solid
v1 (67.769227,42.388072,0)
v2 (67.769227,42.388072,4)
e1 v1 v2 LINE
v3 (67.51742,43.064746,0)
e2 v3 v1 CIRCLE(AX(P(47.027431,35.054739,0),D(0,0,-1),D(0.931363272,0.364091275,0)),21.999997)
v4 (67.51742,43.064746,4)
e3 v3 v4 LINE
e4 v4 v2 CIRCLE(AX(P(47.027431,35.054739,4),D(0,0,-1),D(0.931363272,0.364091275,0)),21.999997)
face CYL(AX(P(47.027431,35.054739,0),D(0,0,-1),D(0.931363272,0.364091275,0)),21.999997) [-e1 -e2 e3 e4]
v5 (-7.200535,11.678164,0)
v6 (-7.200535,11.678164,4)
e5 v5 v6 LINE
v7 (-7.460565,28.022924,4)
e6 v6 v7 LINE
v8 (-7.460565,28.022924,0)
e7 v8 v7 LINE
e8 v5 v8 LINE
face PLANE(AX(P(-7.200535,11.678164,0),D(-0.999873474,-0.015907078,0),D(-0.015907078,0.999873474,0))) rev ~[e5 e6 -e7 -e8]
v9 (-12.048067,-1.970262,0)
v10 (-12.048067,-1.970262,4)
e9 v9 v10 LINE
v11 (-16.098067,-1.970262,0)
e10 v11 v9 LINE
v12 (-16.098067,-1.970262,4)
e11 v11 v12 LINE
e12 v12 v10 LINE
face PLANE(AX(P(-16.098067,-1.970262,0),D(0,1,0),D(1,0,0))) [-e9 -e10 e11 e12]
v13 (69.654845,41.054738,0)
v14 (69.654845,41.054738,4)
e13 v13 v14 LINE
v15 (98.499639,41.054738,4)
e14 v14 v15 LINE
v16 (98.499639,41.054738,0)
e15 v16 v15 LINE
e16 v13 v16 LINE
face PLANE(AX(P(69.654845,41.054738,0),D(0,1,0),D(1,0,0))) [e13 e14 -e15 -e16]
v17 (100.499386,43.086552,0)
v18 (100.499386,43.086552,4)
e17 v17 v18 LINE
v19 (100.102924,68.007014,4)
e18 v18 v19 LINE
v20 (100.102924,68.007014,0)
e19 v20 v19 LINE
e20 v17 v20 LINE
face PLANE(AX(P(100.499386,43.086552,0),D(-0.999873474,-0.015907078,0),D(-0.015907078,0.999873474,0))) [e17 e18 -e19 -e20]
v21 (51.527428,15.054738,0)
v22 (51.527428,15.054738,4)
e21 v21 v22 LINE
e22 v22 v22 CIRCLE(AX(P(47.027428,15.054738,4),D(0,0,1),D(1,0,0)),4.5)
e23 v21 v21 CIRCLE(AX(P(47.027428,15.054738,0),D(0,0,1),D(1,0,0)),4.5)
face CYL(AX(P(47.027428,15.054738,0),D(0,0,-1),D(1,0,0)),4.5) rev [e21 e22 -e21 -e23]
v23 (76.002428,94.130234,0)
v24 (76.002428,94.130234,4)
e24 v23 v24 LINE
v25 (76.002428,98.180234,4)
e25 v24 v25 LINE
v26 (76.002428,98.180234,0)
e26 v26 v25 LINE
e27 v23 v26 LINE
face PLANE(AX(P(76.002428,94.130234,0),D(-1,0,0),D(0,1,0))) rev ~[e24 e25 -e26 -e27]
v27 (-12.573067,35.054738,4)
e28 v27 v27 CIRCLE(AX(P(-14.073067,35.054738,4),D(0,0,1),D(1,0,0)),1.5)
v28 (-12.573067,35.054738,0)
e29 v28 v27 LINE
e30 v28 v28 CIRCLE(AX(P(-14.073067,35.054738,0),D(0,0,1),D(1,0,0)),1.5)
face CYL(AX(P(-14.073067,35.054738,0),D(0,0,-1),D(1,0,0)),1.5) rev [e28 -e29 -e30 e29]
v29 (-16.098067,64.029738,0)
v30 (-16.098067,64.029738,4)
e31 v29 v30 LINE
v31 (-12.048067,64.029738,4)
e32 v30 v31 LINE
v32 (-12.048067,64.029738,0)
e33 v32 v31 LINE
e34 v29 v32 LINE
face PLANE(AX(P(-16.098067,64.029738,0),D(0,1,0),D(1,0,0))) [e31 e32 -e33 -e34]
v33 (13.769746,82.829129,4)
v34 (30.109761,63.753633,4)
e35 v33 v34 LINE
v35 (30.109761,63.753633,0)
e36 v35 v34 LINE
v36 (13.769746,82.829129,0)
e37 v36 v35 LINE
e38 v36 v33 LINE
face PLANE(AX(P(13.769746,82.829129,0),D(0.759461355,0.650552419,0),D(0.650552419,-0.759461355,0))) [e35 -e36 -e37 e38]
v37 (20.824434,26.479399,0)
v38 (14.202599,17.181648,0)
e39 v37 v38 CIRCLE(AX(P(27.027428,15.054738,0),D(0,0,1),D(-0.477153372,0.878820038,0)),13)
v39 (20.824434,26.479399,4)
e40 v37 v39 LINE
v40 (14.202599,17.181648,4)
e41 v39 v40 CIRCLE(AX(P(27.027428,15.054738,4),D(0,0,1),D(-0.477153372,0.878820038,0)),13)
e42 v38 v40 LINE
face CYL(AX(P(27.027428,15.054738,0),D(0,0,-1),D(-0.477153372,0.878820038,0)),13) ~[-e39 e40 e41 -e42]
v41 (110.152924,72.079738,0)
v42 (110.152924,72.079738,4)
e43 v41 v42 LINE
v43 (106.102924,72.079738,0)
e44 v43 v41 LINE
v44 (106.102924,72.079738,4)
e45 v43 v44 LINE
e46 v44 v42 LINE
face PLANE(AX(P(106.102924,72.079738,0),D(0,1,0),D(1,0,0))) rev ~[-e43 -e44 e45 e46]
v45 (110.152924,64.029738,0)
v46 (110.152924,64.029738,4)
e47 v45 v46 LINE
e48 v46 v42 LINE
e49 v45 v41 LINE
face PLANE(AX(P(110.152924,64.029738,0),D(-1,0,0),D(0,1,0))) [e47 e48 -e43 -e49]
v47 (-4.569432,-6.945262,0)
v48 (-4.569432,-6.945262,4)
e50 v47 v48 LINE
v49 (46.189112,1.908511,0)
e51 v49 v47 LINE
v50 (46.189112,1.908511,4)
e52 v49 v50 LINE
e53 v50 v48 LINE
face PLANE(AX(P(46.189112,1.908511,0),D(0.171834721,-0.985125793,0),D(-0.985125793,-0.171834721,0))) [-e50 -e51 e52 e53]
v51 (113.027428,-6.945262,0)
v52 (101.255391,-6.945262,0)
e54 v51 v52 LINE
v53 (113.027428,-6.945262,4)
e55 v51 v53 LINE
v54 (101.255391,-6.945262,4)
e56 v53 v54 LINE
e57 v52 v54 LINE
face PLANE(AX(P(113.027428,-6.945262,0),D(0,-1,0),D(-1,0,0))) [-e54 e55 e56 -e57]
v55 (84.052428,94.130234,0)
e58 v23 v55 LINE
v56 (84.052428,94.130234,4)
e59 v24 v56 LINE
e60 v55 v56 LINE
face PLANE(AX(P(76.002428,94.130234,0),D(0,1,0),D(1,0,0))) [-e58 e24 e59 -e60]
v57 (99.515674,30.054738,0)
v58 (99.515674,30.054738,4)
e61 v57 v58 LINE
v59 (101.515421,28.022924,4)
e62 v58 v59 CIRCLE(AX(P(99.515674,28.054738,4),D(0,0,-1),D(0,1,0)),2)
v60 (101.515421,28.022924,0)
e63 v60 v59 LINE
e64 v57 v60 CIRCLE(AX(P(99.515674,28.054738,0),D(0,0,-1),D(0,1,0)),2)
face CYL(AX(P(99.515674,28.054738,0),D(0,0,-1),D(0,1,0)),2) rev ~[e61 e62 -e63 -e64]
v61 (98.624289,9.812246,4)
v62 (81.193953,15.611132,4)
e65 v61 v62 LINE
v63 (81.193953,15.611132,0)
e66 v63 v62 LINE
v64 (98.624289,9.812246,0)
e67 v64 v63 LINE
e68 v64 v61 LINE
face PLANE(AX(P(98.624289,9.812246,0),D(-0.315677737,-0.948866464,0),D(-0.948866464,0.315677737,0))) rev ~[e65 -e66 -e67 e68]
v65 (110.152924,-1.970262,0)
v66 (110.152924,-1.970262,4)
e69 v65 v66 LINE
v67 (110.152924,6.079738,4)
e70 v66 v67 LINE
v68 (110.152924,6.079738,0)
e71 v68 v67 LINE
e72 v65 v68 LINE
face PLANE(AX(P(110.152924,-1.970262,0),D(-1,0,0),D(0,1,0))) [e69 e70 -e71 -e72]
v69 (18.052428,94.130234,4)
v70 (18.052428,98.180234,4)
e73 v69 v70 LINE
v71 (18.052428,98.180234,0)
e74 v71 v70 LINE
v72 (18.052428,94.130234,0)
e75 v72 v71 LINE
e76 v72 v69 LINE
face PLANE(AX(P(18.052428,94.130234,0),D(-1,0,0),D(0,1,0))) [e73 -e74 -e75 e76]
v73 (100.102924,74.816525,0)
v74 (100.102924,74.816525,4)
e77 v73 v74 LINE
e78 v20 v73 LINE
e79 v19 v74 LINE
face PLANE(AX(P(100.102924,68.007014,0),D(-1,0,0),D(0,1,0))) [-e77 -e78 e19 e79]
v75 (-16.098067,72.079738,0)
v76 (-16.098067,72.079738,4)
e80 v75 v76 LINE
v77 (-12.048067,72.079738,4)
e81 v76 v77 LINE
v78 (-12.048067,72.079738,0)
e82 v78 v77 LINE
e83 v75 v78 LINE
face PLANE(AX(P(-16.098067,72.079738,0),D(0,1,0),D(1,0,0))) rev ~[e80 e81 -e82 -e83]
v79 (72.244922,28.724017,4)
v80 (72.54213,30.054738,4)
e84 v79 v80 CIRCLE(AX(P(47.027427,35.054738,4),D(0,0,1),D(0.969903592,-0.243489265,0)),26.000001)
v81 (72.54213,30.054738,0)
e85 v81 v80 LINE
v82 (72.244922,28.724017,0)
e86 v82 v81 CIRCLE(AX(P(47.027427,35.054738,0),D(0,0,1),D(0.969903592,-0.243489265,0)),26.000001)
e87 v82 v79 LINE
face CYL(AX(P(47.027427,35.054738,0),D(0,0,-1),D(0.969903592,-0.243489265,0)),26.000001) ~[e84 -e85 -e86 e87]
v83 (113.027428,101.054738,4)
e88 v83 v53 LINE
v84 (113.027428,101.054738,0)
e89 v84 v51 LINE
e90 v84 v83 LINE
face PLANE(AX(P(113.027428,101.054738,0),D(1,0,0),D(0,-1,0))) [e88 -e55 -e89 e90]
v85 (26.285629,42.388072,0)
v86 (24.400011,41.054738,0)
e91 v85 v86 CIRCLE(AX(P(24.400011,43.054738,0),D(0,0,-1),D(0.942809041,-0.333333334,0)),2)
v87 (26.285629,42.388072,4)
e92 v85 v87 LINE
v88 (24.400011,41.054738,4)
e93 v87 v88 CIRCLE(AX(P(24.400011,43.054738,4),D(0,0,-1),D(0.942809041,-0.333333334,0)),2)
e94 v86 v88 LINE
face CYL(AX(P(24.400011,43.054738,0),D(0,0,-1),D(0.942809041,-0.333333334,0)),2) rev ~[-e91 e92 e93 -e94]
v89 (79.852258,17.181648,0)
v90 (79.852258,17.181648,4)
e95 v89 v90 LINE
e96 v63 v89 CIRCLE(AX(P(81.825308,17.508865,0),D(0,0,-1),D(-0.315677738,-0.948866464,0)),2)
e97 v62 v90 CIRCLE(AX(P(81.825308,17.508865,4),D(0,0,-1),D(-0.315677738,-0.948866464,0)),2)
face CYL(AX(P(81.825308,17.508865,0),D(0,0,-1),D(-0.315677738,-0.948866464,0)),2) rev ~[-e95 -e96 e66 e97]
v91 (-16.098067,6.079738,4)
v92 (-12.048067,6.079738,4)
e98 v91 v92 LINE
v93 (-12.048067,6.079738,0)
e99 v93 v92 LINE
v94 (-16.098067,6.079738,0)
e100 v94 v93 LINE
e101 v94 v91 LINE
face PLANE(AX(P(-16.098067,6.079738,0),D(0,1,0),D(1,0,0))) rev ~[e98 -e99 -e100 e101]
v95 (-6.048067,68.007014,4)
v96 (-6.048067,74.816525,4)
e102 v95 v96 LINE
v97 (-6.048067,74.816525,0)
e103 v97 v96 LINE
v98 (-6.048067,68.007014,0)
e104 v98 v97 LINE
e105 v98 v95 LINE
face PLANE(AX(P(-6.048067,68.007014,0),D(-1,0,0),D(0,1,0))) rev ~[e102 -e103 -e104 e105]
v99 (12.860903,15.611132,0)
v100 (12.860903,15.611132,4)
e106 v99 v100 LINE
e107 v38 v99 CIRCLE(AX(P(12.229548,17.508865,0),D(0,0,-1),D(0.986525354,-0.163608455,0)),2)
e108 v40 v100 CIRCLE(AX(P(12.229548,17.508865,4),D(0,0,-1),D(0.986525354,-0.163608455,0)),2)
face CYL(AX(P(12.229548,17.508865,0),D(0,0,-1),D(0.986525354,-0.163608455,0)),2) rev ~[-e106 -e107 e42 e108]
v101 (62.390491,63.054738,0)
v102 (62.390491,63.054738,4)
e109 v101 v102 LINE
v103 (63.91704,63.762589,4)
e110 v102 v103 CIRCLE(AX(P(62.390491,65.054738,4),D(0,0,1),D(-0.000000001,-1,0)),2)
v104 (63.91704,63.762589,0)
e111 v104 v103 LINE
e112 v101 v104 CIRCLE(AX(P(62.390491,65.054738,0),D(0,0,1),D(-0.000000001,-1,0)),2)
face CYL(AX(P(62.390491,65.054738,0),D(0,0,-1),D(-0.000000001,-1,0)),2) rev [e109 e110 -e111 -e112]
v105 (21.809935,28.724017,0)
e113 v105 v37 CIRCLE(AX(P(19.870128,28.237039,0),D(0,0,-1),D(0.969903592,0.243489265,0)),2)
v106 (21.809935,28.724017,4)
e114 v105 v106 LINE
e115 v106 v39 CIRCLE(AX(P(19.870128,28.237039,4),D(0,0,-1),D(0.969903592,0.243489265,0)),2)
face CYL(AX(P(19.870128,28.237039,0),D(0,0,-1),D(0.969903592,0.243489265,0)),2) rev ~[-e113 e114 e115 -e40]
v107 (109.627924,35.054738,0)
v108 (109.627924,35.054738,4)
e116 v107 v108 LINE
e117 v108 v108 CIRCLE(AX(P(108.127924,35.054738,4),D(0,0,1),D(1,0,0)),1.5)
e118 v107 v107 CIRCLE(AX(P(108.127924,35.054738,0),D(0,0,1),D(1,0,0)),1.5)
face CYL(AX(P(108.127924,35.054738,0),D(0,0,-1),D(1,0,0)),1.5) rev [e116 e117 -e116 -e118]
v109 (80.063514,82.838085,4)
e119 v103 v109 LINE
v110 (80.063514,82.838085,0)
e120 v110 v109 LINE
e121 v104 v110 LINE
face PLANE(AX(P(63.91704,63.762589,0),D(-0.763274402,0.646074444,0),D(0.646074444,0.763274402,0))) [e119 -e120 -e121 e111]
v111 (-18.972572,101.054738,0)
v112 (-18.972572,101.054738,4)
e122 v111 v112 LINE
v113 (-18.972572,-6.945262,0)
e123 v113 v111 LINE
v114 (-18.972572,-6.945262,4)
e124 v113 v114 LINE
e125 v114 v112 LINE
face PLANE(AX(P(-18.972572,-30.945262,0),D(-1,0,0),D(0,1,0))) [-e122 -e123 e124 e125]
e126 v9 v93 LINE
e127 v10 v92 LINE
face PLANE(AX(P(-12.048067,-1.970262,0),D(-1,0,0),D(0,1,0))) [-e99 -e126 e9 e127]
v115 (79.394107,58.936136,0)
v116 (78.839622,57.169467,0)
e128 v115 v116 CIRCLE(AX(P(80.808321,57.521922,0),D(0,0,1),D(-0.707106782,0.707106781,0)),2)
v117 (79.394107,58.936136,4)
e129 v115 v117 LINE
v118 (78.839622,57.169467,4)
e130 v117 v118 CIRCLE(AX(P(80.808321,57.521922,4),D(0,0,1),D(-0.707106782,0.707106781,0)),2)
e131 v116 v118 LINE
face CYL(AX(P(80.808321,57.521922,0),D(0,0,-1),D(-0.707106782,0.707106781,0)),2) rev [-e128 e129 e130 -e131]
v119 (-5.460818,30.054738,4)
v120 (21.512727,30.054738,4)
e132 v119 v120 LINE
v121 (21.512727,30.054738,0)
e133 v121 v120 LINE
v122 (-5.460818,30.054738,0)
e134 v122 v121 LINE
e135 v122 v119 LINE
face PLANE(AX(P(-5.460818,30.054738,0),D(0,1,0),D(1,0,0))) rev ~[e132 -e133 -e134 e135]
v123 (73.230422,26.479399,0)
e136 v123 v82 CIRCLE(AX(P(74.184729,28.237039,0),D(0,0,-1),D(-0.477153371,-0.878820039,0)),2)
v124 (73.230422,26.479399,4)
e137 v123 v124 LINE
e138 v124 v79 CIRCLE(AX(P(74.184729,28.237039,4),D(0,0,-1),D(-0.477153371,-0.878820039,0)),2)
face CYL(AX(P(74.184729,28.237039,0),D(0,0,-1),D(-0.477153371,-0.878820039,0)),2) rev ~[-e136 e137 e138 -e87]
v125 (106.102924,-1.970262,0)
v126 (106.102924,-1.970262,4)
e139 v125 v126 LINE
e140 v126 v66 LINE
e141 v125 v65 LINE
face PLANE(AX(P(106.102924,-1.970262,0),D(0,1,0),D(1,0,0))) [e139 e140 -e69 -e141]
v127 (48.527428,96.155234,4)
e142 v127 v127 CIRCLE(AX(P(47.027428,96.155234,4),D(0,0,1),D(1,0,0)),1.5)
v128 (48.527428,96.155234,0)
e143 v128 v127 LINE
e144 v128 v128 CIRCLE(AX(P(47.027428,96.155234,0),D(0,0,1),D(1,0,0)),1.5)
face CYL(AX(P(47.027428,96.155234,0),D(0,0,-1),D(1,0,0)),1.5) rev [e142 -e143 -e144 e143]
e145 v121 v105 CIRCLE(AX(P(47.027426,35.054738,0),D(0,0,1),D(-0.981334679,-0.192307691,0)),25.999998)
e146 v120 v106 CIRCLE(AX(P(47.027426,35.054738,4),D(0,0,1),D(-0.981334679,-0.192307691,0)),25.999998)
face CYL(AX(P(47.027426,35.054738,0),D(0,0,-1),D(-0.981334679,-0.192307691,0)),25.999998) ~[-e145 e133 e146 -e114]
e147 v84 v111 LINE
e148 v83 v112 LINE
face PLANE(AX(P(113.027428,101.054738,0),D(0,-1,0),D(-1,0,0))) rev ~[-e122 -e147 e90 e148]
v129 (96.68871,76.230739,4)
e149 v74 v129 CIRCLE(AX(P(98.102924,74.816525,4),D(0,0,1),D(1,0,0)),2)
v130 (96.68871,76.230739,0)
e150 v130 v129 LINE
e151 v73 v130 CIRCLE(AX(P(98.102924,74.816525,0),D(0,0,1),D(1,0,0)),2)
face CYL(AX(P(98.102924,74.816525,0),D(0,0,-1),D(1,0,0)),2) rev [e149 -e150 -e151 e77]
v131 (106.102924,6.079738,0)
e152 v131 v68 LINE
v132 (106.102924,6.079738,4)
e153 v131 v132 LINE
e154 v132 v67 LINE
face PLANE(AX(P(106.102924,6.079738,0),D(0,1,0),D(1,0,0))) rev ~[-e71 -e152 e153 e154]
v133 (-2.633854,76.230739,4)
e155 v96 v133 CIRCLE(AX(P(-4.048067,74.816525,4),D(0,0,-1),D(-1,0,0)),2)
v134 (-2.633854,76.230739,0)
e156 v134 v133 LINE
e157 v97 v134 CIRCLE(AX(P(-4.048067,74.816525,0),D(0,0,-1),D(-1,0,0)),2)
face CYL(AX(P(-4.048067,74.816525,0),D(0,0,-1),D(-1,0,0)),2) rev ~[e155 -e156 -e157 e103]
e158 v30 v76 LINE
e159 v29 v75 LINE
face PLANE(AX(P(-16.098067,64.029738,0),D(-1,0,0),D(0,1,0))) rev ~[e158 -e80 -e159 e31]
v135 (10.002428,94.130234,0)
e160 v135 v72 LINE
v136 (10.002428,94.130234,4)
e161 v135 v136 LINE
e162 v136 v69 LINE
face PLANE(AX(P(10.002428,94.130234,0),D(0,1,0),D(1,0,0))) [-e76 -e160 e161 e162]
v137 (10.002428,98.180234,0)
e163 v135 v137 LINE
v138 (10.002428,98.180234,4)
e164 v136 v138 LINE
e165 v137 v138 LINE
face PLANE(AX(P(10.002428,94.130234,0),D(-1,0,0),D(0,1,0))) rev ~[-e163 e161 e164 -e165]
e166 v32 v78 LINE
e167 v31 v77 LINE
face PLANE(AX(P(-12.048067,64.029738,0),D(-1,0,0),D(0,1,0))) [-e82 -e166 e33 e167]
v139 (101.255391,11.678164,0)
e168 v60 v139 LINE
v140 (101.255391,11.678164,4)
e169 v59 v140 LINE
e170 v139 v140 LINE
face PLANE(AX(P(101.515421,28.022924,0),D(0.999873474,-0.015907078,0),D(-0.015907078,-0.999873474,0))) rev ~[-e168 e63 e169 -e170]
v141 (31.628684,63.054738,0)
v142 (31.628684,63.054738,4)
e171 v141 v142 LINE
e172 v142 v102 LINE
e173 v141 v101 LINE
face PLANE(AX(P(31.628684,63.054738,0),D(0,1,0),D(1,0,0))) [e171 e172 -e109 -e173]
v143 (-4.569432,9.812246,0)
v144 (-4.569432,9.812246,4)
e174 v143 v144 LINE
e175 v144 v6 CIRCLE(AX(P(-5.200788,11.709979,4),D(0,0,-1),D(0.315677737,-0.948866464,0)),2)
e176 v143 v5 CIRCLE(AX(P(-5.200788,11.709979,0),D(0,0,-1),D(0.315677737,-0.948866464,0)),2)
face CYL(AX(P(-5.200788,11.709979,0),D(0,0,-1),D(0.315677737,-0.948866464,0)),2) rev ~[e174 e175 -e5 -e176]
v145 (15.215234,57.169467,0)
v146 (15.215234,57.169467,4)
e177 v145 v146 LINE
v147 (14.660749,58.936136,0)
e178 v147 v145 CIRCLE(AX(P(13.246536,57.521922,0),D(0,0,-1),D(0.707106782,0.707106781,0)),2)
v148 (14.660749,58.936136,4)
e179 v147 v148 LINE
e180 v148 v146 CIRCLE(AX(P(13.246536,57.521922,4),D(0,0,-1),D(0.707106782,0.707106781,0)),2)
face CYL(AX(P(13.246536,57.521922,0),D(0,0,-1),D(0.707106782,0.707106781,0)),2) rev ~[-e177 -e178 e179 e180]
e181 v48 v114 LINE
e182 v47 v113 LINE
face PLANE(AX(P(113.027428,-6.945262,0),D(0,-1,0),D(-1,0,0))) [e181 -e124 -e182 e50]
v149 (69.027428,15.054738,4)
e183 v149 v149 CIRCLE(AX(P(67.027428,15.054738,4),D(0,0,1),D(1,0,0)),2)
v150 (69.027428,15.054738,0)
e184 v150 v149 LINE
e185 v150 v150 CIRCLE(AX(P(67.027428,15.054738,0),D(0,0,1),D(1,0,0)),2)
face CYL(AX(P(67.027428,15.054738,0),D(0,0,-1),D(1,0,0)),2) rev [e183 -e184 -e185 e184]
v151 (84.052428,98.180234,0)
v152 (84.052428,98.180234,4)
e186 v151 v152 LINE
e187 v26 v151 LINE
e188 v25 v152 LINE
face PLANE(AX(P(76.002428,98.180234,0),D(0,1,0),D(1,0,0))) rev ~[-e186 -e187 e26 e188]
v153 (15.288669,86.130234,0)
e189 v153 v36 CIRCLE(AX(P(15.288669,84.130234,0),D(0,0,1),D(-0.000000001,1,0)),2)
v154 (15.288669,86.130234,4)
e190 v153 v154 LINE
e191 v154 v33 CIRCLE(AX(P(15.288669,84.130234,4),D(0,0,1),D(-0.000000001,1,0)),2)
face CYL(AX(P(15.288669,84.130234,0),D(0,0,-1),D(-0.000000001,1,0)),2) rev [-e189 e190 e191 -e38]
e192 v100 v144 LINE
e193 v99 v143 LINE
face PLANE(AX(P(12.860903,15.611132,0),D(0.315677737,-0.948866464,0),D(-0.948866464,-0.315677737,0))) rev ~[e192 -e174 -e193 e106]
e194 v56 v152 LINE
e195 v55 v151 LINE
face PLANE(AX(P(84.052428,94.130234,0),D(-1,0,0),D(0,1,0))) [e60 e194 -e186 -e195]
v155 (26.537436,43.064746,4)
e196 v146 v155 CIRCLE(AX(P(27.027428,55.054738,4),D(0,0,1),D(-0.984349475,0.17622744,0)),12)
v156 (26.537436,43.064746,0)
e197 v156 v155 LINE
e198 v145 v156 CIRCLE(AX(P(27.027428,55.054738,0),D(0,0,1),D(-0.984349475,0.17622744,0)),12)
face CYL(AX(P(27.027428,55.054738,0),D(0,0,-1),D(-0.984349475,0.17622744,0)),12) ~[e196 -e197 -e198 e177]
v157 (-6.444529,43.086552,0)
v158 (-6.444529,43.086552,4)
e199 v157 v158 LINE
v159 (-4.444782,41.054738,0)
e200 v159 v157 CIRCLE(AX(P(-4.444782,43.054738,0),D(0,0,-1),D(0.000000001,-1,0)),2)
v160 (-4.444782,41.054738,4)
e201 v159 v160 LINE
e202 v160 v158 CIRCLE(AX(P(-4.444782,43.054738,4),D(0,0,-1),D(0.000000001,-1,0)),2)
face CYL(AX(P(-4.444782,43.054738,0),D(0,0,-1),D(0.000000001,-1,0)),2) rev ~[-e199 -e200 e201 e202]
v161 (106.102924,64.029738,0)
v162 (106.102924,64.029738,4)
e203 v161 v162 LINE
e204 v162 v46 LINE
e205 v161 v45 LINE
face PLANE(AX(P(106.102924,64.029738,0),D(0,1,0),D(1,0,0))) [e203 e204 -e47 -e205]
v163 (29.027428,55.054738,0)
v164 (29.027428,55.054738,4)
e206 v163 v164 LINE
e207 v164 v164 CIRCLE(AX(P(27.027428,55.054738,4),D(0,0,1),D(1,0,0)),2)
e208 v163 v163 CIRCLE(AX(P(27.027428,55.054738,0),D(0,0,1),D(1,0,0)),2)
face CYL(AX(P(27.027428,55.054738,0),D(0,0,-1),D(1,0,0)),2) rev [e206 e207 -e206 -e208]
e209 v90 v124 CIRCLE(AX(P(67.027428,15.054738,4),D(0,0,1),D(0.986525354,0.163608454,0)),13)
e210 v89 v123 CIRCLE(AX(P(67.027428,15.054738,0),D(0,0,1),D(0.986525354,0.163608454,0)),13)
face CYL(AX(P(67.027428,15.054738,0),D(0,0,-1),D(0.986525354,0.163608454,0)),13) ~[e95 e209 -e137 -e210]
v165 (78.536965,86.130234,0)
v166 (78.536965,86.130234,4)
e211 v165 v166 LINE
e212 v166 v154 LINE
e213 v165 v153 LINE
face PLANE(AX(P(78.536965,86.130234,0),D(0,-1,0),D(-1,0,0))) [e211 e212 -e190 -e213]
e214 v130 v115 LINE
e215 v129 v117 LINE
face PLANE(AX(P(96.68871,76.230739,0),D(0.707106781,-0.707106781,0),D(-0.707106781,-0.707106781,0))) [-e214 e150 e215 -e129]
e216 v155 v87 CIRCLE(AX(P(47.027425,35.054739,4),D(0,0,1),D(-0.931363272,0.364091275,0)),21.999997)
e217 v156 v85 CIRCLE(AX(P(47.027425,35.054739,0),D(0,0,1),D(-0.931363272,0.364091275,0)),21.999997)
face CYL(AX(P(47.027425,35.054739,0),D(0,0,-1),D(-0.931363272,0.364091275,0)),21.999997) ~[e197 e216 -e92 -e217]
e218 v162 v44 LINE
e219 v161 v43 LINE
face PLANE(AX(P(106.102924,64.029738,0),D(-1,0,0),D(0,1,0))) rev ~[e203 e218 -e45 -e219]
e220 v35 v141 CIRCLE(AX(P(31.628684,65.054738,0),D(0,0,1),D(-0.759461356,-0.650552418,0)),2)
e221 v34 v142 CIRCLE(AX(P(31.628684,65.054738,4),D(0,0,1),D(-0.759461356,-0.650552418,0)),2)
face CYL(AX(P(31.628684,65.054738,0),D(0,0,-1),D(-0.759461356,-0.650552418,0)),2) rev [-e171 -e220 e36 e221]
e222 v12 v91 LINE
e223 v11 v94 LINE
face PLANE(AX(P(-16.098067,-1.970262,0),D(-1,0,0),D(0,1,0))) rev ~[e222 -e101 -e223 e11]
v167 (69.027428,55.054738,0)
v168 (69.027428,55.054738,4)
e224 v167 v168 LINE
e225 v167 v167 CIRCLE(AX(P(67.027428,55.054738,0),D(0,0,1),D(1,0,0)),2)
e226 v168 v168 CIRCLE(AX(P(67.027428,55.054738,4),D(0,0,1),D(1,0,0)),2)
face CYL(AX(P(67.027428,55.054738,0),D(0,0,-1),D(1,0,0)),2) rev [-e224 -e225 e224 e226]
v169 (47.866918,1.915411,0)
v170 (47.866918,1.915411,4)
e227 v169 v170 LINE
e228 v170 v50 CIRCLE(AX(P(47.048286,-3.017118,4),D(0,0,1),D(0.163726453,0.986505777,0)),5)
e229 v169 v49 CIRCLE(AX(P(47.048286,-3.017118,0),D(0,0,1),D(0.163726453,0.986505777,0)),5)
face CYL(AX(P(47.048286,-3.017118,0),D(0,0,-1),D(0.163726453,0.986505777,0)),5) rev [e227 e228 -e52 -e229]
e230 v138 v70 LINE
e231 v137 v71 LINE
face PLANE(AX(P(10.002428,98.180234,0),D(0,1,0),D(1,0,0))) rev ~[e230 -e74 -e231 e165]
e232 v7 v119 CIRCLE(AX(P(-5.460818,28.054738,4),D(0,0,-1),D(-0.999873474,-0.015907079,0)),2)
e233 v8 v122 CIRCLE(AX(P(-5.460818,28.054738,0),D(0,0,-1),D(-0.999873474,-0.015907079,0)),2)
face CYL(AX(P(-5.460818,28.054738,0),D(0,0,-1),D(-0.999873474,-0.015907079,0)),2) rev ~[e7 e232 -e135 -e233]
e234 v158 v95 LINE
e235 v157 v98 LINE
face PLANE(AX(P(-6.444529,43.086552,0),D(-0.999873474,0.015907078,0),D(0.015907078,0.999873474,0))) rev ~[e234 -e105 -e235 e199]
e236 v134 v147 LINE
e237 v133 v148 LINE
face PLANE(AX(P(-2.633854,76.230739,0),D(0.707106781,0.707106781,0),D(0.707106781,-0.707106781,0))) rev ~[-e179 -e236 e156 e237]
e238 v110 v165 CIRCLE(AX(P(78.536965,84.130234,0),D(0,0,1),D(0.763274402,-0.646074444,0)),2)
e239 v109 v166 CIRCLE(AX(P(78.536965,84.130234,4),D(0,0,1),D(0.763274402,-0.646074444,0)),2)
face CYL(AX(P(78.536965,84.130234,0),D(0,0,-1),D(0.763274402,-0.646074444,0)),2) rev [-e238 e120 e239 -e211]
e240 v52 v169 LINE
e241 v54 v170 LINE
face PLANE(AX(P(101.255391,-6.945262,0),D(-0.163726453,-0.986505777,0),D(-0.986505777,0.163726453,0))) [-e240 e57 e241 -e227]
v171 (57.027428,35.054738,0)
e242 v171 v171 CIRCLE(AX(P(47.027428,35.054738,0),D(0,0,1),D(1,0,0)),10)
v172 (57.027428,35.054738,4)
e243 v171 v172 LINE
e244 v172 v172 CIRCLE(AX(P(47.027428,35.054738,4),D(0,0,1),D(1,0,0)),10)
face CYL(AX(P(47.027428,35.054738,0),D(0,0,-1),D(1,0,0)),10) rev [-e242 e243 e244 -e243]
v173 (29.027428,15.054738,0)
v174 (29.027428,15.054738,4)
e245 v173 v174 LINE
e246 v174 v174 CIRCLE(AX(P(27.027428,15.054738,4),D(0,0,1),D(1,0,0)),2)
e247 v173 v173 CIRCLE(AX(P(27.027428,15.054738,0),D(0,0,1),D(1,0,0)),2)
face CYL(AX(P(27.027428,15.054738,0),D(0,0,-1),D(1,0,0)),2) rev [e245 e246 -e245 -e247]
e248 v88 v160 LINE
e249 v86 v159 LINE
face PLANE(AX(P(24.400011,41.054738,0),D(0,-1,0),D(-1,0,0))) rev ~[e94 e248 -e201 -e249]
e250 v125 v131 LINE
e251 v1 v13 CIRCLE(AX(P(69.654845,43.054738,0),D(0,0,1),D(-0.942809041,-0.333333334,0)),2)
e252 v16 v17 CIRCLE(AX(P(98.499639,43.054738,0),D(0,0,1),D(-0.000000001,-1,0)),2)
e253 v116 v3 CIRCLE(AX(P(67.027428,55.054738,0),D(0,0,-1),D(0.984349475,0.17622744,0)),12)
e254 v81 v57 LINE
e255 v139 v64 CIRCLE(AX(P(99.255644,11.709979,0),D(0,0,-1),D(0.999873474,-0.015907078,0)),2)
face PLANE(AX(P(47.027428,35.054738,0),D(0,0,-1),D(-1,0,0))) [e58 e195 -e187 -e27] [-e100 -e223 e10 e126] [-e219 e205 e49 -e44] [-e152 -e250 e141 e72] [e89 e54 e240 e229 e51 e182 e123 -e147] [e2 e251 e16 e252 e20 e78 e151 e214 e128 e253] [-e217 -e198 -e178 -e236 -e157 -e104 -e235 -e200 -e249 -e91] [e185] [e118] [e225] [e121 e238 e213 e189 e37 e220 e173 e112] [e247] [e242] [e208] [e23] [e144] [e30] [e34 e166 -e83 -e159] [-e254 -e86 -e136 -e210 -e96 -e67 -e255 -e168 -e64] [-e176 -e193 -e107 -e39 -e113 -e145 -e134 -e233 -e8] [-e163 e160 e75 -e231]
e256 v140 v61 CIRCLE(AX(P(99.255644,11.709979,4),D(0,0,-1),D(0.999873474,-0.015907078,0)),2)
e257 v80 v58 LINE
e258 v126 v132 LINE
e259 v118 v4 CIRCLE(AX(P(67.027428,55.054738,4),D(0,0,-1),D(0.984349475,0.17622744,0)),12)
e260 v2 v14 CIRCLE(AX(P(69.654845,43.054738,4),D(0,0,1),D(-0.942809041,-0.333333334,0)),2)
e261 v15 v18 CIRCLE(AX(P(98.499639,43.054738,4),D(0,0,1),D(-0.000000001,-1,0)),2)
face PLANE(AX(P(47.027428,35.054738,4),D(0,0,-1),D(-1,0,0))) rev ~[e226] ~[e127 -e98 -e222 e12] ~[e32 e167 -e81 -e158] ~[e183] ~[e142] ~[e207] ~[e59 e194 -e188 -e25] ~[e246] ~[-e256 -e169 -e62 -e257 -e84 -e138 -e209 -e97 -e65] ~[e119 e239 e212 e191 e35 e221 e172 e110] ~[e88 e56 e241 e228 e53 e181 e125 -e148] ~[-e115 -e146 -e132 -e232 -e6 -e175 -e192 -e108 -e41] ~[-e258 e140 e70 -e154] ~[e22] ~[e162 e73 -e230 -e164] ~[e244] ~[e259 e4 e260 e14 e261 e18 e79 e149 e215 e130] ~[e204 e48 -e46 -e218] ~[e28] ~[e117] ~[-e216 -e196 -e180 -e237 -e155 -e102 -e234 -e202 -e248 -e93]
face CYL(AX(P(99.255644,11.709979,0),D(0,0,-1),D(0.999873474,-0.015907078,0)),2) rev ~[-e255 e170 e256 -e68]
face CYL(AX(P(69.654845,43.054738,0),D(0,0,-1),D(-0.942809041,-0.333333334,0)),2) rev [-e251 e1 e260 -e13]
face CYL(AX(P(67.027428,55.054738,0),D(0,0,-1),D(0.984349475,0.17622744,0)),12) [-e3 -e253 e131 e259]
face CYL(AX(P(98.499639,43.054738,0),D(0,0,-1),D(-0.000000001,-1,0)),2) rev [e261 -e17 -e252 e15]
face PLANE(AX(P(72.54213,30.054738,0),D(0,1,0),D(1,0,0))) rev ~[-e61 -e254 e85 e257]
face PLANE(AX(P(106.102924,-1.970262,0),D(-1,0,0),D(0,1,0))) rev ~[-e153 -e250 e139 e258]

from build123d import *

# Parameters (mm, degrees)
SKETCH_1_R          = 1.5
SKETCH_1_R_2        = 10
SKETCH_1_R_3        = 4.5
SKETCH_1_R_4        = 2
SKETCH_1_W          = 8.05
SKETCH_1_H          = 4.05
SKETCH_1_W_2        = 4.05
SKETCH_1_H_2        = 8.05
EXTRUDE_1_DEPTH     = 4
SKETCH_2_W          = 132
SKETCH_2_H          = 24
CUT_EXTRUDE_1_DEPTH = 4
CUT_EXTRUDE_2_DEPTH = 4


with BuildPart() as part:
    # 草图1 → 凸台-拉伸1 (new body)
    with BuildSketch(Plane.XY):
        Polygon((47.027428163, 101.054738201), (113.027428163, 101.054738201), (113.027428163, -30.945261799), (-18.972571837, -30.945261799), (-18.972571837, 101.054738201), align=None)
        with Locations((47.027428163, 96.155233813)):
            Circle(SKETCH_1_R, mode=Mode.SUBTRACT)
        with Locations((108.127923775, 35.054738201)):
            Circle(SKETCH_1_R, mode=Mode.SUBTRACT)
        with Locations((47.027428163, 35.054738201)):
            Circle(SKETCH_1_R_2, mode=Mode.SUBTRACT)
        with Locations((47.027428163, 15.054738201)):
            Circle(SKETCH_1_R_3, mode=Mode.SUBTRACT)
        with Locations((27.027428163, 15.054738201)):
            Circle(SKETCH_1_R_4, mode=Mode.SUBTRACT)
        with Locations((27.027428163, 55.054738201)):
            Circle(SKETCH_1_R_4, mode=Mode.SUBTRACT)
        with Locations((67.027428163, 55.054738201)):
            Circle(SKETCH_1_R_4, mode=Mode.SUBTRACT)
        with Locations((67.027428163, 15.054738201)):
            Circle(SKETCH_1_R_4, mode=Mode.SUBTRACT)
        with Locations((47.027428163, -26.045757411)):
            Circle(SKETCH_1_R, mode=Mode.SUBTRACT)
        with Locations((-14.073067448, 35.054738201)):
            Circle(SKETCH_1_R, mode=Mode.SUBTRACT)
        with Locations((14.027428163, 96.155233813)):
            Rectangle(SKETCH_1_W, SKETCH_1_H, mode=Mode.SUBTRACT)
        with Locations((80.027428163, 96.155233813)):
            Rectangle(SKETCH_1_W, SKETCH_1_H, mode=Mode.SUBTRACT)
        with Locations((108.127923775, 68.054738201)):
            Rectangle(SKETCH_1_W_2, SKETCH_1_H_2, mode=Mode.SUBTRACT)
        with Locations((108.127923775, 2.054738201)):
            Rectangle(SKETCH_1_W_2, SKETCH_1_H_2, mode=Mode.SUBTRACT)
        with Locations((80.027428163, -26.045757411)):
            Rectangle(SKETCH_1_W, SKETCH_1_H, mode=Mode.SUBTRACT)
        with Locations((14.027428163, -26.045757411)):
            Rectangle(SKETCH_1_W, SKETCH_1_H, mode=Mode.SUBTRACT)
        with Locations((-14.073067448, 2.054738201)):
            Rectangle(SKETCH_1_W_2, SKETCH_1_H_2, mode=Mode.SUBTRACT)
        with Locations((-14.073067448, 68.054738201)):
            Rectangle(SKETCH_1_W_2, SKETCH_1_H_2, mode=Mode.SUBTRACT)
    extrude(amount=EXTRUDE_1_DEPTH)

    # 草图2 → 切除-拉伸1 (cut)
    with BuildSketch(Plane(origin=(0, 0, 0), x_dir=(-1, 0, 0), z_dir=(0, 0, -1))):
        with Locations((-47.027428163, -18.945261799)):
            Rectangle(SKETCH_2_W, SKETCH_2_H)
    extrude(amount=-CUT_EXTRUDE_1_DEPTH, mode=Mode.SUBTRACT)

    # 草图3 → 切除-拉伸2 (cut)
    with BuildSketch(Plane(origin=(0, 0, 0), x_dir=(-1, 0, 0), z_dir=(0, 0, -1))):
        with BuildLine():
            Line((-72.542129808, 30.054738201), (-99.515674348, 30.054738201))
            ThreePointArc((-99.515674348, 30.054738201), (-100.941091534, 29.457658671), (-101.515421297, 28.022924045))
            Line((-101.515421297, 28.022924045), (-101.255391029, 11.678164385))
            ThreePointArc((-101.255391029, 11.678164385), (-100.412595688, 10.078579455), (-98.624288606, 9.812245613))
            Line((-98.624288606, 9.812245613), (-81.193952996, 15.611132086))
            ThreePointArc((-81.193952996, 15.611132086), (-80.304662874, 16.20977419), (-79.852257763, 17.181648105))
            ThreePointArc((-79.852257763, 17.181648105), (-77.616411007, 22.596186492), (-73.230421996, 26.4793987))
            ThreePointArc((-73.230421996, 26.4793987), (-72.353458134, 27.433018894), (-72.244921555, 28.724017307))
            ThreePointArc((-72.244921555, 28.724017307), (-72.402250484, 29.387429123), (-72.542129808, 30.054738201))
        make_face()
        with BuildLine():
            Line((-12.86090333, 15.611132086), (4.569432279, 9.812245613))
            ThreePointArc((4.569432279, 9.812245613), (6.357739361, 10.078579455), (7.200534703, 11.678164385))
            Line((7.200534703, 11.678164385), (7.46056497, 28.022924045))
            ThreePointArc((7.46056497, 28.022924045), (6.886235208, 29.457658671), (5.460818021, 30.054738201))
            Line((5.460818021, 30.054738201), (-21.512726519, 30.054738201))
            ThreePointArc((-21.512726519, 30.054738201), (-21.652605842, 29.387429123), (-21.809934772, 28.724017307))
            ThreePointArc((-21.809934772, 28.724017307), (-21.701398193, 27.433018894), (-20.824434331, 26.4793987))
            ThreePointArc((-20.824434331, 26.4793987), (-16.438445319, 22.596186492), (-14.202598564, 17.181648105))
            ThreePointArc((-14.202598564, 17.181648105), (-13.750193453, 16.20977419), (-12.86090333, 15.611132086))
        make_face()
        with BuildLine():
            Line((4.569432279, -6.945261799), (-101.255391029, -6.945261799))
            Line((-101.255391029, -6.945261799), (-47.866918263, 1.915411357))
            ThreePointArc((-47.866918263, 1.915411357), (-47.027723842, 1.98284019), (-46.189112393, 1.908511437))
            Line((-46.189112393, 1.908511437), (4.569432279, -6.945261799))
        make_face()
        with BuildLine():
            Line((-24.400011165, 41.054738201), (4.444782388, 41.054738201))
            ThreePointArc((4.444782388, 41.054738201), (5.870199575, 41.651817731), (6.444529337, 43.086552357))
            Line((6.444529337, 43.086552357), (6.048067448, 68.007013948))
            Line((6.048067448, 68.007013948), (6.048067448, 74.816525314))
            ThreePointArc((6.048067448, 74.816525314), (4.813434313, 76.664284379), (2.633853886, 76.230738876))
            Line((2.633853886, 76.230738876), (-14.660749072, 58.936135918))
            ThreePointArc((-14.660749072, 58.936135918), (-15.154755521, 58.120835026), (-15.21523446, 57.169467477))
            ThreePointArc((-15.21523446, 57.169467477), (-17.669451156, 47.54286318), (-26.537436176, 43.064746214))
            ThreePointArc((-26.537436176, 43.064746214), (-26.408756591, 42.727441936), (-26.285629249, 42.388071534))
            ThreePointArc((-26.285629249, 42.388071534), (-25.554711704, 41.421745039), (-24.400011165, 41.054738201))
        make_face()
        with BuildLine():
            Line((-100.102923775, 68.007013948), (-100.102923775, 74.816525314))
            ThreePointArc((-100.102923775, 74.816525314), (-98.86829064, 76.664284379), (-96.688710213, 76.230738876))
            Line((-96.688710213, 76.230738876), (-79.394107255, 58.936135918))
            ThreePointArc((-79.394107255, 58.936135918), (-78.900100806, 58.120835026), (-78.839621867, 57.169467477))
            ThreePointArc((-78.839621867, 57.169467477), (-76.385405171, 47.54286318), (-67.517420151, 43.064746214))
            ThreePointArc((-67.517420151, 43.064746214), (-67.646099736, 42.727441936), (-67.769227078, 42.388071534))
            ThreePointArc((-67.769227078, 42.388071534), (-68.500144623, 41.421745039), (-69.654845161, 41.054738201))
            Line((-69.654845161, 41.054738201), (-98.499638715, 41.054738201))
            ThreePointArc((-98.499638715, 41.054738201), (-99.925055902, 41.651817731), (-100.499385664, 43.086552357))
            Line((-100.499385664, 43.086552357), (-100.102923775, 68.007013948))
        make_face()
        with BuildLine():
            Line((-13.7697462, 82.829128974), (-30.109761047, 63.753633363))
            ThreePointArc((-30.109761047, 63.753633363), (-30.792684258, 63.237843917), (-31.628683757, 63.054738201))
            Line((-31.628683757, 63.054738201), (-62.390490848, 63.054738201))
            ThreePointArc((-62.390490848, 63.054738201), (-63.231829728, 63.240310222), (-63.917039651, 63.762589312))
            Line((-63.917039651, 63.762589312), (-80.063513586, 82.838084924))
            ThreePointArc((-80.063513586, 82.838084924), (-80.351392761, 84.971572693), (-78.536964783, 86.130233813))
            Line((-78.536964783, 86.130233813), (-15.28866891, 86.130233813))
            ThreePointArc((-15.28866891, 86.130233813), (-13.471774627, 84.966233311), (-13.7697462, 82.829128974))
        make_face()
    extrude(amount=-CUT_EXTRUDE_2_DEPTH, mode=Mode.SUBTRACT)


solid = part.part
